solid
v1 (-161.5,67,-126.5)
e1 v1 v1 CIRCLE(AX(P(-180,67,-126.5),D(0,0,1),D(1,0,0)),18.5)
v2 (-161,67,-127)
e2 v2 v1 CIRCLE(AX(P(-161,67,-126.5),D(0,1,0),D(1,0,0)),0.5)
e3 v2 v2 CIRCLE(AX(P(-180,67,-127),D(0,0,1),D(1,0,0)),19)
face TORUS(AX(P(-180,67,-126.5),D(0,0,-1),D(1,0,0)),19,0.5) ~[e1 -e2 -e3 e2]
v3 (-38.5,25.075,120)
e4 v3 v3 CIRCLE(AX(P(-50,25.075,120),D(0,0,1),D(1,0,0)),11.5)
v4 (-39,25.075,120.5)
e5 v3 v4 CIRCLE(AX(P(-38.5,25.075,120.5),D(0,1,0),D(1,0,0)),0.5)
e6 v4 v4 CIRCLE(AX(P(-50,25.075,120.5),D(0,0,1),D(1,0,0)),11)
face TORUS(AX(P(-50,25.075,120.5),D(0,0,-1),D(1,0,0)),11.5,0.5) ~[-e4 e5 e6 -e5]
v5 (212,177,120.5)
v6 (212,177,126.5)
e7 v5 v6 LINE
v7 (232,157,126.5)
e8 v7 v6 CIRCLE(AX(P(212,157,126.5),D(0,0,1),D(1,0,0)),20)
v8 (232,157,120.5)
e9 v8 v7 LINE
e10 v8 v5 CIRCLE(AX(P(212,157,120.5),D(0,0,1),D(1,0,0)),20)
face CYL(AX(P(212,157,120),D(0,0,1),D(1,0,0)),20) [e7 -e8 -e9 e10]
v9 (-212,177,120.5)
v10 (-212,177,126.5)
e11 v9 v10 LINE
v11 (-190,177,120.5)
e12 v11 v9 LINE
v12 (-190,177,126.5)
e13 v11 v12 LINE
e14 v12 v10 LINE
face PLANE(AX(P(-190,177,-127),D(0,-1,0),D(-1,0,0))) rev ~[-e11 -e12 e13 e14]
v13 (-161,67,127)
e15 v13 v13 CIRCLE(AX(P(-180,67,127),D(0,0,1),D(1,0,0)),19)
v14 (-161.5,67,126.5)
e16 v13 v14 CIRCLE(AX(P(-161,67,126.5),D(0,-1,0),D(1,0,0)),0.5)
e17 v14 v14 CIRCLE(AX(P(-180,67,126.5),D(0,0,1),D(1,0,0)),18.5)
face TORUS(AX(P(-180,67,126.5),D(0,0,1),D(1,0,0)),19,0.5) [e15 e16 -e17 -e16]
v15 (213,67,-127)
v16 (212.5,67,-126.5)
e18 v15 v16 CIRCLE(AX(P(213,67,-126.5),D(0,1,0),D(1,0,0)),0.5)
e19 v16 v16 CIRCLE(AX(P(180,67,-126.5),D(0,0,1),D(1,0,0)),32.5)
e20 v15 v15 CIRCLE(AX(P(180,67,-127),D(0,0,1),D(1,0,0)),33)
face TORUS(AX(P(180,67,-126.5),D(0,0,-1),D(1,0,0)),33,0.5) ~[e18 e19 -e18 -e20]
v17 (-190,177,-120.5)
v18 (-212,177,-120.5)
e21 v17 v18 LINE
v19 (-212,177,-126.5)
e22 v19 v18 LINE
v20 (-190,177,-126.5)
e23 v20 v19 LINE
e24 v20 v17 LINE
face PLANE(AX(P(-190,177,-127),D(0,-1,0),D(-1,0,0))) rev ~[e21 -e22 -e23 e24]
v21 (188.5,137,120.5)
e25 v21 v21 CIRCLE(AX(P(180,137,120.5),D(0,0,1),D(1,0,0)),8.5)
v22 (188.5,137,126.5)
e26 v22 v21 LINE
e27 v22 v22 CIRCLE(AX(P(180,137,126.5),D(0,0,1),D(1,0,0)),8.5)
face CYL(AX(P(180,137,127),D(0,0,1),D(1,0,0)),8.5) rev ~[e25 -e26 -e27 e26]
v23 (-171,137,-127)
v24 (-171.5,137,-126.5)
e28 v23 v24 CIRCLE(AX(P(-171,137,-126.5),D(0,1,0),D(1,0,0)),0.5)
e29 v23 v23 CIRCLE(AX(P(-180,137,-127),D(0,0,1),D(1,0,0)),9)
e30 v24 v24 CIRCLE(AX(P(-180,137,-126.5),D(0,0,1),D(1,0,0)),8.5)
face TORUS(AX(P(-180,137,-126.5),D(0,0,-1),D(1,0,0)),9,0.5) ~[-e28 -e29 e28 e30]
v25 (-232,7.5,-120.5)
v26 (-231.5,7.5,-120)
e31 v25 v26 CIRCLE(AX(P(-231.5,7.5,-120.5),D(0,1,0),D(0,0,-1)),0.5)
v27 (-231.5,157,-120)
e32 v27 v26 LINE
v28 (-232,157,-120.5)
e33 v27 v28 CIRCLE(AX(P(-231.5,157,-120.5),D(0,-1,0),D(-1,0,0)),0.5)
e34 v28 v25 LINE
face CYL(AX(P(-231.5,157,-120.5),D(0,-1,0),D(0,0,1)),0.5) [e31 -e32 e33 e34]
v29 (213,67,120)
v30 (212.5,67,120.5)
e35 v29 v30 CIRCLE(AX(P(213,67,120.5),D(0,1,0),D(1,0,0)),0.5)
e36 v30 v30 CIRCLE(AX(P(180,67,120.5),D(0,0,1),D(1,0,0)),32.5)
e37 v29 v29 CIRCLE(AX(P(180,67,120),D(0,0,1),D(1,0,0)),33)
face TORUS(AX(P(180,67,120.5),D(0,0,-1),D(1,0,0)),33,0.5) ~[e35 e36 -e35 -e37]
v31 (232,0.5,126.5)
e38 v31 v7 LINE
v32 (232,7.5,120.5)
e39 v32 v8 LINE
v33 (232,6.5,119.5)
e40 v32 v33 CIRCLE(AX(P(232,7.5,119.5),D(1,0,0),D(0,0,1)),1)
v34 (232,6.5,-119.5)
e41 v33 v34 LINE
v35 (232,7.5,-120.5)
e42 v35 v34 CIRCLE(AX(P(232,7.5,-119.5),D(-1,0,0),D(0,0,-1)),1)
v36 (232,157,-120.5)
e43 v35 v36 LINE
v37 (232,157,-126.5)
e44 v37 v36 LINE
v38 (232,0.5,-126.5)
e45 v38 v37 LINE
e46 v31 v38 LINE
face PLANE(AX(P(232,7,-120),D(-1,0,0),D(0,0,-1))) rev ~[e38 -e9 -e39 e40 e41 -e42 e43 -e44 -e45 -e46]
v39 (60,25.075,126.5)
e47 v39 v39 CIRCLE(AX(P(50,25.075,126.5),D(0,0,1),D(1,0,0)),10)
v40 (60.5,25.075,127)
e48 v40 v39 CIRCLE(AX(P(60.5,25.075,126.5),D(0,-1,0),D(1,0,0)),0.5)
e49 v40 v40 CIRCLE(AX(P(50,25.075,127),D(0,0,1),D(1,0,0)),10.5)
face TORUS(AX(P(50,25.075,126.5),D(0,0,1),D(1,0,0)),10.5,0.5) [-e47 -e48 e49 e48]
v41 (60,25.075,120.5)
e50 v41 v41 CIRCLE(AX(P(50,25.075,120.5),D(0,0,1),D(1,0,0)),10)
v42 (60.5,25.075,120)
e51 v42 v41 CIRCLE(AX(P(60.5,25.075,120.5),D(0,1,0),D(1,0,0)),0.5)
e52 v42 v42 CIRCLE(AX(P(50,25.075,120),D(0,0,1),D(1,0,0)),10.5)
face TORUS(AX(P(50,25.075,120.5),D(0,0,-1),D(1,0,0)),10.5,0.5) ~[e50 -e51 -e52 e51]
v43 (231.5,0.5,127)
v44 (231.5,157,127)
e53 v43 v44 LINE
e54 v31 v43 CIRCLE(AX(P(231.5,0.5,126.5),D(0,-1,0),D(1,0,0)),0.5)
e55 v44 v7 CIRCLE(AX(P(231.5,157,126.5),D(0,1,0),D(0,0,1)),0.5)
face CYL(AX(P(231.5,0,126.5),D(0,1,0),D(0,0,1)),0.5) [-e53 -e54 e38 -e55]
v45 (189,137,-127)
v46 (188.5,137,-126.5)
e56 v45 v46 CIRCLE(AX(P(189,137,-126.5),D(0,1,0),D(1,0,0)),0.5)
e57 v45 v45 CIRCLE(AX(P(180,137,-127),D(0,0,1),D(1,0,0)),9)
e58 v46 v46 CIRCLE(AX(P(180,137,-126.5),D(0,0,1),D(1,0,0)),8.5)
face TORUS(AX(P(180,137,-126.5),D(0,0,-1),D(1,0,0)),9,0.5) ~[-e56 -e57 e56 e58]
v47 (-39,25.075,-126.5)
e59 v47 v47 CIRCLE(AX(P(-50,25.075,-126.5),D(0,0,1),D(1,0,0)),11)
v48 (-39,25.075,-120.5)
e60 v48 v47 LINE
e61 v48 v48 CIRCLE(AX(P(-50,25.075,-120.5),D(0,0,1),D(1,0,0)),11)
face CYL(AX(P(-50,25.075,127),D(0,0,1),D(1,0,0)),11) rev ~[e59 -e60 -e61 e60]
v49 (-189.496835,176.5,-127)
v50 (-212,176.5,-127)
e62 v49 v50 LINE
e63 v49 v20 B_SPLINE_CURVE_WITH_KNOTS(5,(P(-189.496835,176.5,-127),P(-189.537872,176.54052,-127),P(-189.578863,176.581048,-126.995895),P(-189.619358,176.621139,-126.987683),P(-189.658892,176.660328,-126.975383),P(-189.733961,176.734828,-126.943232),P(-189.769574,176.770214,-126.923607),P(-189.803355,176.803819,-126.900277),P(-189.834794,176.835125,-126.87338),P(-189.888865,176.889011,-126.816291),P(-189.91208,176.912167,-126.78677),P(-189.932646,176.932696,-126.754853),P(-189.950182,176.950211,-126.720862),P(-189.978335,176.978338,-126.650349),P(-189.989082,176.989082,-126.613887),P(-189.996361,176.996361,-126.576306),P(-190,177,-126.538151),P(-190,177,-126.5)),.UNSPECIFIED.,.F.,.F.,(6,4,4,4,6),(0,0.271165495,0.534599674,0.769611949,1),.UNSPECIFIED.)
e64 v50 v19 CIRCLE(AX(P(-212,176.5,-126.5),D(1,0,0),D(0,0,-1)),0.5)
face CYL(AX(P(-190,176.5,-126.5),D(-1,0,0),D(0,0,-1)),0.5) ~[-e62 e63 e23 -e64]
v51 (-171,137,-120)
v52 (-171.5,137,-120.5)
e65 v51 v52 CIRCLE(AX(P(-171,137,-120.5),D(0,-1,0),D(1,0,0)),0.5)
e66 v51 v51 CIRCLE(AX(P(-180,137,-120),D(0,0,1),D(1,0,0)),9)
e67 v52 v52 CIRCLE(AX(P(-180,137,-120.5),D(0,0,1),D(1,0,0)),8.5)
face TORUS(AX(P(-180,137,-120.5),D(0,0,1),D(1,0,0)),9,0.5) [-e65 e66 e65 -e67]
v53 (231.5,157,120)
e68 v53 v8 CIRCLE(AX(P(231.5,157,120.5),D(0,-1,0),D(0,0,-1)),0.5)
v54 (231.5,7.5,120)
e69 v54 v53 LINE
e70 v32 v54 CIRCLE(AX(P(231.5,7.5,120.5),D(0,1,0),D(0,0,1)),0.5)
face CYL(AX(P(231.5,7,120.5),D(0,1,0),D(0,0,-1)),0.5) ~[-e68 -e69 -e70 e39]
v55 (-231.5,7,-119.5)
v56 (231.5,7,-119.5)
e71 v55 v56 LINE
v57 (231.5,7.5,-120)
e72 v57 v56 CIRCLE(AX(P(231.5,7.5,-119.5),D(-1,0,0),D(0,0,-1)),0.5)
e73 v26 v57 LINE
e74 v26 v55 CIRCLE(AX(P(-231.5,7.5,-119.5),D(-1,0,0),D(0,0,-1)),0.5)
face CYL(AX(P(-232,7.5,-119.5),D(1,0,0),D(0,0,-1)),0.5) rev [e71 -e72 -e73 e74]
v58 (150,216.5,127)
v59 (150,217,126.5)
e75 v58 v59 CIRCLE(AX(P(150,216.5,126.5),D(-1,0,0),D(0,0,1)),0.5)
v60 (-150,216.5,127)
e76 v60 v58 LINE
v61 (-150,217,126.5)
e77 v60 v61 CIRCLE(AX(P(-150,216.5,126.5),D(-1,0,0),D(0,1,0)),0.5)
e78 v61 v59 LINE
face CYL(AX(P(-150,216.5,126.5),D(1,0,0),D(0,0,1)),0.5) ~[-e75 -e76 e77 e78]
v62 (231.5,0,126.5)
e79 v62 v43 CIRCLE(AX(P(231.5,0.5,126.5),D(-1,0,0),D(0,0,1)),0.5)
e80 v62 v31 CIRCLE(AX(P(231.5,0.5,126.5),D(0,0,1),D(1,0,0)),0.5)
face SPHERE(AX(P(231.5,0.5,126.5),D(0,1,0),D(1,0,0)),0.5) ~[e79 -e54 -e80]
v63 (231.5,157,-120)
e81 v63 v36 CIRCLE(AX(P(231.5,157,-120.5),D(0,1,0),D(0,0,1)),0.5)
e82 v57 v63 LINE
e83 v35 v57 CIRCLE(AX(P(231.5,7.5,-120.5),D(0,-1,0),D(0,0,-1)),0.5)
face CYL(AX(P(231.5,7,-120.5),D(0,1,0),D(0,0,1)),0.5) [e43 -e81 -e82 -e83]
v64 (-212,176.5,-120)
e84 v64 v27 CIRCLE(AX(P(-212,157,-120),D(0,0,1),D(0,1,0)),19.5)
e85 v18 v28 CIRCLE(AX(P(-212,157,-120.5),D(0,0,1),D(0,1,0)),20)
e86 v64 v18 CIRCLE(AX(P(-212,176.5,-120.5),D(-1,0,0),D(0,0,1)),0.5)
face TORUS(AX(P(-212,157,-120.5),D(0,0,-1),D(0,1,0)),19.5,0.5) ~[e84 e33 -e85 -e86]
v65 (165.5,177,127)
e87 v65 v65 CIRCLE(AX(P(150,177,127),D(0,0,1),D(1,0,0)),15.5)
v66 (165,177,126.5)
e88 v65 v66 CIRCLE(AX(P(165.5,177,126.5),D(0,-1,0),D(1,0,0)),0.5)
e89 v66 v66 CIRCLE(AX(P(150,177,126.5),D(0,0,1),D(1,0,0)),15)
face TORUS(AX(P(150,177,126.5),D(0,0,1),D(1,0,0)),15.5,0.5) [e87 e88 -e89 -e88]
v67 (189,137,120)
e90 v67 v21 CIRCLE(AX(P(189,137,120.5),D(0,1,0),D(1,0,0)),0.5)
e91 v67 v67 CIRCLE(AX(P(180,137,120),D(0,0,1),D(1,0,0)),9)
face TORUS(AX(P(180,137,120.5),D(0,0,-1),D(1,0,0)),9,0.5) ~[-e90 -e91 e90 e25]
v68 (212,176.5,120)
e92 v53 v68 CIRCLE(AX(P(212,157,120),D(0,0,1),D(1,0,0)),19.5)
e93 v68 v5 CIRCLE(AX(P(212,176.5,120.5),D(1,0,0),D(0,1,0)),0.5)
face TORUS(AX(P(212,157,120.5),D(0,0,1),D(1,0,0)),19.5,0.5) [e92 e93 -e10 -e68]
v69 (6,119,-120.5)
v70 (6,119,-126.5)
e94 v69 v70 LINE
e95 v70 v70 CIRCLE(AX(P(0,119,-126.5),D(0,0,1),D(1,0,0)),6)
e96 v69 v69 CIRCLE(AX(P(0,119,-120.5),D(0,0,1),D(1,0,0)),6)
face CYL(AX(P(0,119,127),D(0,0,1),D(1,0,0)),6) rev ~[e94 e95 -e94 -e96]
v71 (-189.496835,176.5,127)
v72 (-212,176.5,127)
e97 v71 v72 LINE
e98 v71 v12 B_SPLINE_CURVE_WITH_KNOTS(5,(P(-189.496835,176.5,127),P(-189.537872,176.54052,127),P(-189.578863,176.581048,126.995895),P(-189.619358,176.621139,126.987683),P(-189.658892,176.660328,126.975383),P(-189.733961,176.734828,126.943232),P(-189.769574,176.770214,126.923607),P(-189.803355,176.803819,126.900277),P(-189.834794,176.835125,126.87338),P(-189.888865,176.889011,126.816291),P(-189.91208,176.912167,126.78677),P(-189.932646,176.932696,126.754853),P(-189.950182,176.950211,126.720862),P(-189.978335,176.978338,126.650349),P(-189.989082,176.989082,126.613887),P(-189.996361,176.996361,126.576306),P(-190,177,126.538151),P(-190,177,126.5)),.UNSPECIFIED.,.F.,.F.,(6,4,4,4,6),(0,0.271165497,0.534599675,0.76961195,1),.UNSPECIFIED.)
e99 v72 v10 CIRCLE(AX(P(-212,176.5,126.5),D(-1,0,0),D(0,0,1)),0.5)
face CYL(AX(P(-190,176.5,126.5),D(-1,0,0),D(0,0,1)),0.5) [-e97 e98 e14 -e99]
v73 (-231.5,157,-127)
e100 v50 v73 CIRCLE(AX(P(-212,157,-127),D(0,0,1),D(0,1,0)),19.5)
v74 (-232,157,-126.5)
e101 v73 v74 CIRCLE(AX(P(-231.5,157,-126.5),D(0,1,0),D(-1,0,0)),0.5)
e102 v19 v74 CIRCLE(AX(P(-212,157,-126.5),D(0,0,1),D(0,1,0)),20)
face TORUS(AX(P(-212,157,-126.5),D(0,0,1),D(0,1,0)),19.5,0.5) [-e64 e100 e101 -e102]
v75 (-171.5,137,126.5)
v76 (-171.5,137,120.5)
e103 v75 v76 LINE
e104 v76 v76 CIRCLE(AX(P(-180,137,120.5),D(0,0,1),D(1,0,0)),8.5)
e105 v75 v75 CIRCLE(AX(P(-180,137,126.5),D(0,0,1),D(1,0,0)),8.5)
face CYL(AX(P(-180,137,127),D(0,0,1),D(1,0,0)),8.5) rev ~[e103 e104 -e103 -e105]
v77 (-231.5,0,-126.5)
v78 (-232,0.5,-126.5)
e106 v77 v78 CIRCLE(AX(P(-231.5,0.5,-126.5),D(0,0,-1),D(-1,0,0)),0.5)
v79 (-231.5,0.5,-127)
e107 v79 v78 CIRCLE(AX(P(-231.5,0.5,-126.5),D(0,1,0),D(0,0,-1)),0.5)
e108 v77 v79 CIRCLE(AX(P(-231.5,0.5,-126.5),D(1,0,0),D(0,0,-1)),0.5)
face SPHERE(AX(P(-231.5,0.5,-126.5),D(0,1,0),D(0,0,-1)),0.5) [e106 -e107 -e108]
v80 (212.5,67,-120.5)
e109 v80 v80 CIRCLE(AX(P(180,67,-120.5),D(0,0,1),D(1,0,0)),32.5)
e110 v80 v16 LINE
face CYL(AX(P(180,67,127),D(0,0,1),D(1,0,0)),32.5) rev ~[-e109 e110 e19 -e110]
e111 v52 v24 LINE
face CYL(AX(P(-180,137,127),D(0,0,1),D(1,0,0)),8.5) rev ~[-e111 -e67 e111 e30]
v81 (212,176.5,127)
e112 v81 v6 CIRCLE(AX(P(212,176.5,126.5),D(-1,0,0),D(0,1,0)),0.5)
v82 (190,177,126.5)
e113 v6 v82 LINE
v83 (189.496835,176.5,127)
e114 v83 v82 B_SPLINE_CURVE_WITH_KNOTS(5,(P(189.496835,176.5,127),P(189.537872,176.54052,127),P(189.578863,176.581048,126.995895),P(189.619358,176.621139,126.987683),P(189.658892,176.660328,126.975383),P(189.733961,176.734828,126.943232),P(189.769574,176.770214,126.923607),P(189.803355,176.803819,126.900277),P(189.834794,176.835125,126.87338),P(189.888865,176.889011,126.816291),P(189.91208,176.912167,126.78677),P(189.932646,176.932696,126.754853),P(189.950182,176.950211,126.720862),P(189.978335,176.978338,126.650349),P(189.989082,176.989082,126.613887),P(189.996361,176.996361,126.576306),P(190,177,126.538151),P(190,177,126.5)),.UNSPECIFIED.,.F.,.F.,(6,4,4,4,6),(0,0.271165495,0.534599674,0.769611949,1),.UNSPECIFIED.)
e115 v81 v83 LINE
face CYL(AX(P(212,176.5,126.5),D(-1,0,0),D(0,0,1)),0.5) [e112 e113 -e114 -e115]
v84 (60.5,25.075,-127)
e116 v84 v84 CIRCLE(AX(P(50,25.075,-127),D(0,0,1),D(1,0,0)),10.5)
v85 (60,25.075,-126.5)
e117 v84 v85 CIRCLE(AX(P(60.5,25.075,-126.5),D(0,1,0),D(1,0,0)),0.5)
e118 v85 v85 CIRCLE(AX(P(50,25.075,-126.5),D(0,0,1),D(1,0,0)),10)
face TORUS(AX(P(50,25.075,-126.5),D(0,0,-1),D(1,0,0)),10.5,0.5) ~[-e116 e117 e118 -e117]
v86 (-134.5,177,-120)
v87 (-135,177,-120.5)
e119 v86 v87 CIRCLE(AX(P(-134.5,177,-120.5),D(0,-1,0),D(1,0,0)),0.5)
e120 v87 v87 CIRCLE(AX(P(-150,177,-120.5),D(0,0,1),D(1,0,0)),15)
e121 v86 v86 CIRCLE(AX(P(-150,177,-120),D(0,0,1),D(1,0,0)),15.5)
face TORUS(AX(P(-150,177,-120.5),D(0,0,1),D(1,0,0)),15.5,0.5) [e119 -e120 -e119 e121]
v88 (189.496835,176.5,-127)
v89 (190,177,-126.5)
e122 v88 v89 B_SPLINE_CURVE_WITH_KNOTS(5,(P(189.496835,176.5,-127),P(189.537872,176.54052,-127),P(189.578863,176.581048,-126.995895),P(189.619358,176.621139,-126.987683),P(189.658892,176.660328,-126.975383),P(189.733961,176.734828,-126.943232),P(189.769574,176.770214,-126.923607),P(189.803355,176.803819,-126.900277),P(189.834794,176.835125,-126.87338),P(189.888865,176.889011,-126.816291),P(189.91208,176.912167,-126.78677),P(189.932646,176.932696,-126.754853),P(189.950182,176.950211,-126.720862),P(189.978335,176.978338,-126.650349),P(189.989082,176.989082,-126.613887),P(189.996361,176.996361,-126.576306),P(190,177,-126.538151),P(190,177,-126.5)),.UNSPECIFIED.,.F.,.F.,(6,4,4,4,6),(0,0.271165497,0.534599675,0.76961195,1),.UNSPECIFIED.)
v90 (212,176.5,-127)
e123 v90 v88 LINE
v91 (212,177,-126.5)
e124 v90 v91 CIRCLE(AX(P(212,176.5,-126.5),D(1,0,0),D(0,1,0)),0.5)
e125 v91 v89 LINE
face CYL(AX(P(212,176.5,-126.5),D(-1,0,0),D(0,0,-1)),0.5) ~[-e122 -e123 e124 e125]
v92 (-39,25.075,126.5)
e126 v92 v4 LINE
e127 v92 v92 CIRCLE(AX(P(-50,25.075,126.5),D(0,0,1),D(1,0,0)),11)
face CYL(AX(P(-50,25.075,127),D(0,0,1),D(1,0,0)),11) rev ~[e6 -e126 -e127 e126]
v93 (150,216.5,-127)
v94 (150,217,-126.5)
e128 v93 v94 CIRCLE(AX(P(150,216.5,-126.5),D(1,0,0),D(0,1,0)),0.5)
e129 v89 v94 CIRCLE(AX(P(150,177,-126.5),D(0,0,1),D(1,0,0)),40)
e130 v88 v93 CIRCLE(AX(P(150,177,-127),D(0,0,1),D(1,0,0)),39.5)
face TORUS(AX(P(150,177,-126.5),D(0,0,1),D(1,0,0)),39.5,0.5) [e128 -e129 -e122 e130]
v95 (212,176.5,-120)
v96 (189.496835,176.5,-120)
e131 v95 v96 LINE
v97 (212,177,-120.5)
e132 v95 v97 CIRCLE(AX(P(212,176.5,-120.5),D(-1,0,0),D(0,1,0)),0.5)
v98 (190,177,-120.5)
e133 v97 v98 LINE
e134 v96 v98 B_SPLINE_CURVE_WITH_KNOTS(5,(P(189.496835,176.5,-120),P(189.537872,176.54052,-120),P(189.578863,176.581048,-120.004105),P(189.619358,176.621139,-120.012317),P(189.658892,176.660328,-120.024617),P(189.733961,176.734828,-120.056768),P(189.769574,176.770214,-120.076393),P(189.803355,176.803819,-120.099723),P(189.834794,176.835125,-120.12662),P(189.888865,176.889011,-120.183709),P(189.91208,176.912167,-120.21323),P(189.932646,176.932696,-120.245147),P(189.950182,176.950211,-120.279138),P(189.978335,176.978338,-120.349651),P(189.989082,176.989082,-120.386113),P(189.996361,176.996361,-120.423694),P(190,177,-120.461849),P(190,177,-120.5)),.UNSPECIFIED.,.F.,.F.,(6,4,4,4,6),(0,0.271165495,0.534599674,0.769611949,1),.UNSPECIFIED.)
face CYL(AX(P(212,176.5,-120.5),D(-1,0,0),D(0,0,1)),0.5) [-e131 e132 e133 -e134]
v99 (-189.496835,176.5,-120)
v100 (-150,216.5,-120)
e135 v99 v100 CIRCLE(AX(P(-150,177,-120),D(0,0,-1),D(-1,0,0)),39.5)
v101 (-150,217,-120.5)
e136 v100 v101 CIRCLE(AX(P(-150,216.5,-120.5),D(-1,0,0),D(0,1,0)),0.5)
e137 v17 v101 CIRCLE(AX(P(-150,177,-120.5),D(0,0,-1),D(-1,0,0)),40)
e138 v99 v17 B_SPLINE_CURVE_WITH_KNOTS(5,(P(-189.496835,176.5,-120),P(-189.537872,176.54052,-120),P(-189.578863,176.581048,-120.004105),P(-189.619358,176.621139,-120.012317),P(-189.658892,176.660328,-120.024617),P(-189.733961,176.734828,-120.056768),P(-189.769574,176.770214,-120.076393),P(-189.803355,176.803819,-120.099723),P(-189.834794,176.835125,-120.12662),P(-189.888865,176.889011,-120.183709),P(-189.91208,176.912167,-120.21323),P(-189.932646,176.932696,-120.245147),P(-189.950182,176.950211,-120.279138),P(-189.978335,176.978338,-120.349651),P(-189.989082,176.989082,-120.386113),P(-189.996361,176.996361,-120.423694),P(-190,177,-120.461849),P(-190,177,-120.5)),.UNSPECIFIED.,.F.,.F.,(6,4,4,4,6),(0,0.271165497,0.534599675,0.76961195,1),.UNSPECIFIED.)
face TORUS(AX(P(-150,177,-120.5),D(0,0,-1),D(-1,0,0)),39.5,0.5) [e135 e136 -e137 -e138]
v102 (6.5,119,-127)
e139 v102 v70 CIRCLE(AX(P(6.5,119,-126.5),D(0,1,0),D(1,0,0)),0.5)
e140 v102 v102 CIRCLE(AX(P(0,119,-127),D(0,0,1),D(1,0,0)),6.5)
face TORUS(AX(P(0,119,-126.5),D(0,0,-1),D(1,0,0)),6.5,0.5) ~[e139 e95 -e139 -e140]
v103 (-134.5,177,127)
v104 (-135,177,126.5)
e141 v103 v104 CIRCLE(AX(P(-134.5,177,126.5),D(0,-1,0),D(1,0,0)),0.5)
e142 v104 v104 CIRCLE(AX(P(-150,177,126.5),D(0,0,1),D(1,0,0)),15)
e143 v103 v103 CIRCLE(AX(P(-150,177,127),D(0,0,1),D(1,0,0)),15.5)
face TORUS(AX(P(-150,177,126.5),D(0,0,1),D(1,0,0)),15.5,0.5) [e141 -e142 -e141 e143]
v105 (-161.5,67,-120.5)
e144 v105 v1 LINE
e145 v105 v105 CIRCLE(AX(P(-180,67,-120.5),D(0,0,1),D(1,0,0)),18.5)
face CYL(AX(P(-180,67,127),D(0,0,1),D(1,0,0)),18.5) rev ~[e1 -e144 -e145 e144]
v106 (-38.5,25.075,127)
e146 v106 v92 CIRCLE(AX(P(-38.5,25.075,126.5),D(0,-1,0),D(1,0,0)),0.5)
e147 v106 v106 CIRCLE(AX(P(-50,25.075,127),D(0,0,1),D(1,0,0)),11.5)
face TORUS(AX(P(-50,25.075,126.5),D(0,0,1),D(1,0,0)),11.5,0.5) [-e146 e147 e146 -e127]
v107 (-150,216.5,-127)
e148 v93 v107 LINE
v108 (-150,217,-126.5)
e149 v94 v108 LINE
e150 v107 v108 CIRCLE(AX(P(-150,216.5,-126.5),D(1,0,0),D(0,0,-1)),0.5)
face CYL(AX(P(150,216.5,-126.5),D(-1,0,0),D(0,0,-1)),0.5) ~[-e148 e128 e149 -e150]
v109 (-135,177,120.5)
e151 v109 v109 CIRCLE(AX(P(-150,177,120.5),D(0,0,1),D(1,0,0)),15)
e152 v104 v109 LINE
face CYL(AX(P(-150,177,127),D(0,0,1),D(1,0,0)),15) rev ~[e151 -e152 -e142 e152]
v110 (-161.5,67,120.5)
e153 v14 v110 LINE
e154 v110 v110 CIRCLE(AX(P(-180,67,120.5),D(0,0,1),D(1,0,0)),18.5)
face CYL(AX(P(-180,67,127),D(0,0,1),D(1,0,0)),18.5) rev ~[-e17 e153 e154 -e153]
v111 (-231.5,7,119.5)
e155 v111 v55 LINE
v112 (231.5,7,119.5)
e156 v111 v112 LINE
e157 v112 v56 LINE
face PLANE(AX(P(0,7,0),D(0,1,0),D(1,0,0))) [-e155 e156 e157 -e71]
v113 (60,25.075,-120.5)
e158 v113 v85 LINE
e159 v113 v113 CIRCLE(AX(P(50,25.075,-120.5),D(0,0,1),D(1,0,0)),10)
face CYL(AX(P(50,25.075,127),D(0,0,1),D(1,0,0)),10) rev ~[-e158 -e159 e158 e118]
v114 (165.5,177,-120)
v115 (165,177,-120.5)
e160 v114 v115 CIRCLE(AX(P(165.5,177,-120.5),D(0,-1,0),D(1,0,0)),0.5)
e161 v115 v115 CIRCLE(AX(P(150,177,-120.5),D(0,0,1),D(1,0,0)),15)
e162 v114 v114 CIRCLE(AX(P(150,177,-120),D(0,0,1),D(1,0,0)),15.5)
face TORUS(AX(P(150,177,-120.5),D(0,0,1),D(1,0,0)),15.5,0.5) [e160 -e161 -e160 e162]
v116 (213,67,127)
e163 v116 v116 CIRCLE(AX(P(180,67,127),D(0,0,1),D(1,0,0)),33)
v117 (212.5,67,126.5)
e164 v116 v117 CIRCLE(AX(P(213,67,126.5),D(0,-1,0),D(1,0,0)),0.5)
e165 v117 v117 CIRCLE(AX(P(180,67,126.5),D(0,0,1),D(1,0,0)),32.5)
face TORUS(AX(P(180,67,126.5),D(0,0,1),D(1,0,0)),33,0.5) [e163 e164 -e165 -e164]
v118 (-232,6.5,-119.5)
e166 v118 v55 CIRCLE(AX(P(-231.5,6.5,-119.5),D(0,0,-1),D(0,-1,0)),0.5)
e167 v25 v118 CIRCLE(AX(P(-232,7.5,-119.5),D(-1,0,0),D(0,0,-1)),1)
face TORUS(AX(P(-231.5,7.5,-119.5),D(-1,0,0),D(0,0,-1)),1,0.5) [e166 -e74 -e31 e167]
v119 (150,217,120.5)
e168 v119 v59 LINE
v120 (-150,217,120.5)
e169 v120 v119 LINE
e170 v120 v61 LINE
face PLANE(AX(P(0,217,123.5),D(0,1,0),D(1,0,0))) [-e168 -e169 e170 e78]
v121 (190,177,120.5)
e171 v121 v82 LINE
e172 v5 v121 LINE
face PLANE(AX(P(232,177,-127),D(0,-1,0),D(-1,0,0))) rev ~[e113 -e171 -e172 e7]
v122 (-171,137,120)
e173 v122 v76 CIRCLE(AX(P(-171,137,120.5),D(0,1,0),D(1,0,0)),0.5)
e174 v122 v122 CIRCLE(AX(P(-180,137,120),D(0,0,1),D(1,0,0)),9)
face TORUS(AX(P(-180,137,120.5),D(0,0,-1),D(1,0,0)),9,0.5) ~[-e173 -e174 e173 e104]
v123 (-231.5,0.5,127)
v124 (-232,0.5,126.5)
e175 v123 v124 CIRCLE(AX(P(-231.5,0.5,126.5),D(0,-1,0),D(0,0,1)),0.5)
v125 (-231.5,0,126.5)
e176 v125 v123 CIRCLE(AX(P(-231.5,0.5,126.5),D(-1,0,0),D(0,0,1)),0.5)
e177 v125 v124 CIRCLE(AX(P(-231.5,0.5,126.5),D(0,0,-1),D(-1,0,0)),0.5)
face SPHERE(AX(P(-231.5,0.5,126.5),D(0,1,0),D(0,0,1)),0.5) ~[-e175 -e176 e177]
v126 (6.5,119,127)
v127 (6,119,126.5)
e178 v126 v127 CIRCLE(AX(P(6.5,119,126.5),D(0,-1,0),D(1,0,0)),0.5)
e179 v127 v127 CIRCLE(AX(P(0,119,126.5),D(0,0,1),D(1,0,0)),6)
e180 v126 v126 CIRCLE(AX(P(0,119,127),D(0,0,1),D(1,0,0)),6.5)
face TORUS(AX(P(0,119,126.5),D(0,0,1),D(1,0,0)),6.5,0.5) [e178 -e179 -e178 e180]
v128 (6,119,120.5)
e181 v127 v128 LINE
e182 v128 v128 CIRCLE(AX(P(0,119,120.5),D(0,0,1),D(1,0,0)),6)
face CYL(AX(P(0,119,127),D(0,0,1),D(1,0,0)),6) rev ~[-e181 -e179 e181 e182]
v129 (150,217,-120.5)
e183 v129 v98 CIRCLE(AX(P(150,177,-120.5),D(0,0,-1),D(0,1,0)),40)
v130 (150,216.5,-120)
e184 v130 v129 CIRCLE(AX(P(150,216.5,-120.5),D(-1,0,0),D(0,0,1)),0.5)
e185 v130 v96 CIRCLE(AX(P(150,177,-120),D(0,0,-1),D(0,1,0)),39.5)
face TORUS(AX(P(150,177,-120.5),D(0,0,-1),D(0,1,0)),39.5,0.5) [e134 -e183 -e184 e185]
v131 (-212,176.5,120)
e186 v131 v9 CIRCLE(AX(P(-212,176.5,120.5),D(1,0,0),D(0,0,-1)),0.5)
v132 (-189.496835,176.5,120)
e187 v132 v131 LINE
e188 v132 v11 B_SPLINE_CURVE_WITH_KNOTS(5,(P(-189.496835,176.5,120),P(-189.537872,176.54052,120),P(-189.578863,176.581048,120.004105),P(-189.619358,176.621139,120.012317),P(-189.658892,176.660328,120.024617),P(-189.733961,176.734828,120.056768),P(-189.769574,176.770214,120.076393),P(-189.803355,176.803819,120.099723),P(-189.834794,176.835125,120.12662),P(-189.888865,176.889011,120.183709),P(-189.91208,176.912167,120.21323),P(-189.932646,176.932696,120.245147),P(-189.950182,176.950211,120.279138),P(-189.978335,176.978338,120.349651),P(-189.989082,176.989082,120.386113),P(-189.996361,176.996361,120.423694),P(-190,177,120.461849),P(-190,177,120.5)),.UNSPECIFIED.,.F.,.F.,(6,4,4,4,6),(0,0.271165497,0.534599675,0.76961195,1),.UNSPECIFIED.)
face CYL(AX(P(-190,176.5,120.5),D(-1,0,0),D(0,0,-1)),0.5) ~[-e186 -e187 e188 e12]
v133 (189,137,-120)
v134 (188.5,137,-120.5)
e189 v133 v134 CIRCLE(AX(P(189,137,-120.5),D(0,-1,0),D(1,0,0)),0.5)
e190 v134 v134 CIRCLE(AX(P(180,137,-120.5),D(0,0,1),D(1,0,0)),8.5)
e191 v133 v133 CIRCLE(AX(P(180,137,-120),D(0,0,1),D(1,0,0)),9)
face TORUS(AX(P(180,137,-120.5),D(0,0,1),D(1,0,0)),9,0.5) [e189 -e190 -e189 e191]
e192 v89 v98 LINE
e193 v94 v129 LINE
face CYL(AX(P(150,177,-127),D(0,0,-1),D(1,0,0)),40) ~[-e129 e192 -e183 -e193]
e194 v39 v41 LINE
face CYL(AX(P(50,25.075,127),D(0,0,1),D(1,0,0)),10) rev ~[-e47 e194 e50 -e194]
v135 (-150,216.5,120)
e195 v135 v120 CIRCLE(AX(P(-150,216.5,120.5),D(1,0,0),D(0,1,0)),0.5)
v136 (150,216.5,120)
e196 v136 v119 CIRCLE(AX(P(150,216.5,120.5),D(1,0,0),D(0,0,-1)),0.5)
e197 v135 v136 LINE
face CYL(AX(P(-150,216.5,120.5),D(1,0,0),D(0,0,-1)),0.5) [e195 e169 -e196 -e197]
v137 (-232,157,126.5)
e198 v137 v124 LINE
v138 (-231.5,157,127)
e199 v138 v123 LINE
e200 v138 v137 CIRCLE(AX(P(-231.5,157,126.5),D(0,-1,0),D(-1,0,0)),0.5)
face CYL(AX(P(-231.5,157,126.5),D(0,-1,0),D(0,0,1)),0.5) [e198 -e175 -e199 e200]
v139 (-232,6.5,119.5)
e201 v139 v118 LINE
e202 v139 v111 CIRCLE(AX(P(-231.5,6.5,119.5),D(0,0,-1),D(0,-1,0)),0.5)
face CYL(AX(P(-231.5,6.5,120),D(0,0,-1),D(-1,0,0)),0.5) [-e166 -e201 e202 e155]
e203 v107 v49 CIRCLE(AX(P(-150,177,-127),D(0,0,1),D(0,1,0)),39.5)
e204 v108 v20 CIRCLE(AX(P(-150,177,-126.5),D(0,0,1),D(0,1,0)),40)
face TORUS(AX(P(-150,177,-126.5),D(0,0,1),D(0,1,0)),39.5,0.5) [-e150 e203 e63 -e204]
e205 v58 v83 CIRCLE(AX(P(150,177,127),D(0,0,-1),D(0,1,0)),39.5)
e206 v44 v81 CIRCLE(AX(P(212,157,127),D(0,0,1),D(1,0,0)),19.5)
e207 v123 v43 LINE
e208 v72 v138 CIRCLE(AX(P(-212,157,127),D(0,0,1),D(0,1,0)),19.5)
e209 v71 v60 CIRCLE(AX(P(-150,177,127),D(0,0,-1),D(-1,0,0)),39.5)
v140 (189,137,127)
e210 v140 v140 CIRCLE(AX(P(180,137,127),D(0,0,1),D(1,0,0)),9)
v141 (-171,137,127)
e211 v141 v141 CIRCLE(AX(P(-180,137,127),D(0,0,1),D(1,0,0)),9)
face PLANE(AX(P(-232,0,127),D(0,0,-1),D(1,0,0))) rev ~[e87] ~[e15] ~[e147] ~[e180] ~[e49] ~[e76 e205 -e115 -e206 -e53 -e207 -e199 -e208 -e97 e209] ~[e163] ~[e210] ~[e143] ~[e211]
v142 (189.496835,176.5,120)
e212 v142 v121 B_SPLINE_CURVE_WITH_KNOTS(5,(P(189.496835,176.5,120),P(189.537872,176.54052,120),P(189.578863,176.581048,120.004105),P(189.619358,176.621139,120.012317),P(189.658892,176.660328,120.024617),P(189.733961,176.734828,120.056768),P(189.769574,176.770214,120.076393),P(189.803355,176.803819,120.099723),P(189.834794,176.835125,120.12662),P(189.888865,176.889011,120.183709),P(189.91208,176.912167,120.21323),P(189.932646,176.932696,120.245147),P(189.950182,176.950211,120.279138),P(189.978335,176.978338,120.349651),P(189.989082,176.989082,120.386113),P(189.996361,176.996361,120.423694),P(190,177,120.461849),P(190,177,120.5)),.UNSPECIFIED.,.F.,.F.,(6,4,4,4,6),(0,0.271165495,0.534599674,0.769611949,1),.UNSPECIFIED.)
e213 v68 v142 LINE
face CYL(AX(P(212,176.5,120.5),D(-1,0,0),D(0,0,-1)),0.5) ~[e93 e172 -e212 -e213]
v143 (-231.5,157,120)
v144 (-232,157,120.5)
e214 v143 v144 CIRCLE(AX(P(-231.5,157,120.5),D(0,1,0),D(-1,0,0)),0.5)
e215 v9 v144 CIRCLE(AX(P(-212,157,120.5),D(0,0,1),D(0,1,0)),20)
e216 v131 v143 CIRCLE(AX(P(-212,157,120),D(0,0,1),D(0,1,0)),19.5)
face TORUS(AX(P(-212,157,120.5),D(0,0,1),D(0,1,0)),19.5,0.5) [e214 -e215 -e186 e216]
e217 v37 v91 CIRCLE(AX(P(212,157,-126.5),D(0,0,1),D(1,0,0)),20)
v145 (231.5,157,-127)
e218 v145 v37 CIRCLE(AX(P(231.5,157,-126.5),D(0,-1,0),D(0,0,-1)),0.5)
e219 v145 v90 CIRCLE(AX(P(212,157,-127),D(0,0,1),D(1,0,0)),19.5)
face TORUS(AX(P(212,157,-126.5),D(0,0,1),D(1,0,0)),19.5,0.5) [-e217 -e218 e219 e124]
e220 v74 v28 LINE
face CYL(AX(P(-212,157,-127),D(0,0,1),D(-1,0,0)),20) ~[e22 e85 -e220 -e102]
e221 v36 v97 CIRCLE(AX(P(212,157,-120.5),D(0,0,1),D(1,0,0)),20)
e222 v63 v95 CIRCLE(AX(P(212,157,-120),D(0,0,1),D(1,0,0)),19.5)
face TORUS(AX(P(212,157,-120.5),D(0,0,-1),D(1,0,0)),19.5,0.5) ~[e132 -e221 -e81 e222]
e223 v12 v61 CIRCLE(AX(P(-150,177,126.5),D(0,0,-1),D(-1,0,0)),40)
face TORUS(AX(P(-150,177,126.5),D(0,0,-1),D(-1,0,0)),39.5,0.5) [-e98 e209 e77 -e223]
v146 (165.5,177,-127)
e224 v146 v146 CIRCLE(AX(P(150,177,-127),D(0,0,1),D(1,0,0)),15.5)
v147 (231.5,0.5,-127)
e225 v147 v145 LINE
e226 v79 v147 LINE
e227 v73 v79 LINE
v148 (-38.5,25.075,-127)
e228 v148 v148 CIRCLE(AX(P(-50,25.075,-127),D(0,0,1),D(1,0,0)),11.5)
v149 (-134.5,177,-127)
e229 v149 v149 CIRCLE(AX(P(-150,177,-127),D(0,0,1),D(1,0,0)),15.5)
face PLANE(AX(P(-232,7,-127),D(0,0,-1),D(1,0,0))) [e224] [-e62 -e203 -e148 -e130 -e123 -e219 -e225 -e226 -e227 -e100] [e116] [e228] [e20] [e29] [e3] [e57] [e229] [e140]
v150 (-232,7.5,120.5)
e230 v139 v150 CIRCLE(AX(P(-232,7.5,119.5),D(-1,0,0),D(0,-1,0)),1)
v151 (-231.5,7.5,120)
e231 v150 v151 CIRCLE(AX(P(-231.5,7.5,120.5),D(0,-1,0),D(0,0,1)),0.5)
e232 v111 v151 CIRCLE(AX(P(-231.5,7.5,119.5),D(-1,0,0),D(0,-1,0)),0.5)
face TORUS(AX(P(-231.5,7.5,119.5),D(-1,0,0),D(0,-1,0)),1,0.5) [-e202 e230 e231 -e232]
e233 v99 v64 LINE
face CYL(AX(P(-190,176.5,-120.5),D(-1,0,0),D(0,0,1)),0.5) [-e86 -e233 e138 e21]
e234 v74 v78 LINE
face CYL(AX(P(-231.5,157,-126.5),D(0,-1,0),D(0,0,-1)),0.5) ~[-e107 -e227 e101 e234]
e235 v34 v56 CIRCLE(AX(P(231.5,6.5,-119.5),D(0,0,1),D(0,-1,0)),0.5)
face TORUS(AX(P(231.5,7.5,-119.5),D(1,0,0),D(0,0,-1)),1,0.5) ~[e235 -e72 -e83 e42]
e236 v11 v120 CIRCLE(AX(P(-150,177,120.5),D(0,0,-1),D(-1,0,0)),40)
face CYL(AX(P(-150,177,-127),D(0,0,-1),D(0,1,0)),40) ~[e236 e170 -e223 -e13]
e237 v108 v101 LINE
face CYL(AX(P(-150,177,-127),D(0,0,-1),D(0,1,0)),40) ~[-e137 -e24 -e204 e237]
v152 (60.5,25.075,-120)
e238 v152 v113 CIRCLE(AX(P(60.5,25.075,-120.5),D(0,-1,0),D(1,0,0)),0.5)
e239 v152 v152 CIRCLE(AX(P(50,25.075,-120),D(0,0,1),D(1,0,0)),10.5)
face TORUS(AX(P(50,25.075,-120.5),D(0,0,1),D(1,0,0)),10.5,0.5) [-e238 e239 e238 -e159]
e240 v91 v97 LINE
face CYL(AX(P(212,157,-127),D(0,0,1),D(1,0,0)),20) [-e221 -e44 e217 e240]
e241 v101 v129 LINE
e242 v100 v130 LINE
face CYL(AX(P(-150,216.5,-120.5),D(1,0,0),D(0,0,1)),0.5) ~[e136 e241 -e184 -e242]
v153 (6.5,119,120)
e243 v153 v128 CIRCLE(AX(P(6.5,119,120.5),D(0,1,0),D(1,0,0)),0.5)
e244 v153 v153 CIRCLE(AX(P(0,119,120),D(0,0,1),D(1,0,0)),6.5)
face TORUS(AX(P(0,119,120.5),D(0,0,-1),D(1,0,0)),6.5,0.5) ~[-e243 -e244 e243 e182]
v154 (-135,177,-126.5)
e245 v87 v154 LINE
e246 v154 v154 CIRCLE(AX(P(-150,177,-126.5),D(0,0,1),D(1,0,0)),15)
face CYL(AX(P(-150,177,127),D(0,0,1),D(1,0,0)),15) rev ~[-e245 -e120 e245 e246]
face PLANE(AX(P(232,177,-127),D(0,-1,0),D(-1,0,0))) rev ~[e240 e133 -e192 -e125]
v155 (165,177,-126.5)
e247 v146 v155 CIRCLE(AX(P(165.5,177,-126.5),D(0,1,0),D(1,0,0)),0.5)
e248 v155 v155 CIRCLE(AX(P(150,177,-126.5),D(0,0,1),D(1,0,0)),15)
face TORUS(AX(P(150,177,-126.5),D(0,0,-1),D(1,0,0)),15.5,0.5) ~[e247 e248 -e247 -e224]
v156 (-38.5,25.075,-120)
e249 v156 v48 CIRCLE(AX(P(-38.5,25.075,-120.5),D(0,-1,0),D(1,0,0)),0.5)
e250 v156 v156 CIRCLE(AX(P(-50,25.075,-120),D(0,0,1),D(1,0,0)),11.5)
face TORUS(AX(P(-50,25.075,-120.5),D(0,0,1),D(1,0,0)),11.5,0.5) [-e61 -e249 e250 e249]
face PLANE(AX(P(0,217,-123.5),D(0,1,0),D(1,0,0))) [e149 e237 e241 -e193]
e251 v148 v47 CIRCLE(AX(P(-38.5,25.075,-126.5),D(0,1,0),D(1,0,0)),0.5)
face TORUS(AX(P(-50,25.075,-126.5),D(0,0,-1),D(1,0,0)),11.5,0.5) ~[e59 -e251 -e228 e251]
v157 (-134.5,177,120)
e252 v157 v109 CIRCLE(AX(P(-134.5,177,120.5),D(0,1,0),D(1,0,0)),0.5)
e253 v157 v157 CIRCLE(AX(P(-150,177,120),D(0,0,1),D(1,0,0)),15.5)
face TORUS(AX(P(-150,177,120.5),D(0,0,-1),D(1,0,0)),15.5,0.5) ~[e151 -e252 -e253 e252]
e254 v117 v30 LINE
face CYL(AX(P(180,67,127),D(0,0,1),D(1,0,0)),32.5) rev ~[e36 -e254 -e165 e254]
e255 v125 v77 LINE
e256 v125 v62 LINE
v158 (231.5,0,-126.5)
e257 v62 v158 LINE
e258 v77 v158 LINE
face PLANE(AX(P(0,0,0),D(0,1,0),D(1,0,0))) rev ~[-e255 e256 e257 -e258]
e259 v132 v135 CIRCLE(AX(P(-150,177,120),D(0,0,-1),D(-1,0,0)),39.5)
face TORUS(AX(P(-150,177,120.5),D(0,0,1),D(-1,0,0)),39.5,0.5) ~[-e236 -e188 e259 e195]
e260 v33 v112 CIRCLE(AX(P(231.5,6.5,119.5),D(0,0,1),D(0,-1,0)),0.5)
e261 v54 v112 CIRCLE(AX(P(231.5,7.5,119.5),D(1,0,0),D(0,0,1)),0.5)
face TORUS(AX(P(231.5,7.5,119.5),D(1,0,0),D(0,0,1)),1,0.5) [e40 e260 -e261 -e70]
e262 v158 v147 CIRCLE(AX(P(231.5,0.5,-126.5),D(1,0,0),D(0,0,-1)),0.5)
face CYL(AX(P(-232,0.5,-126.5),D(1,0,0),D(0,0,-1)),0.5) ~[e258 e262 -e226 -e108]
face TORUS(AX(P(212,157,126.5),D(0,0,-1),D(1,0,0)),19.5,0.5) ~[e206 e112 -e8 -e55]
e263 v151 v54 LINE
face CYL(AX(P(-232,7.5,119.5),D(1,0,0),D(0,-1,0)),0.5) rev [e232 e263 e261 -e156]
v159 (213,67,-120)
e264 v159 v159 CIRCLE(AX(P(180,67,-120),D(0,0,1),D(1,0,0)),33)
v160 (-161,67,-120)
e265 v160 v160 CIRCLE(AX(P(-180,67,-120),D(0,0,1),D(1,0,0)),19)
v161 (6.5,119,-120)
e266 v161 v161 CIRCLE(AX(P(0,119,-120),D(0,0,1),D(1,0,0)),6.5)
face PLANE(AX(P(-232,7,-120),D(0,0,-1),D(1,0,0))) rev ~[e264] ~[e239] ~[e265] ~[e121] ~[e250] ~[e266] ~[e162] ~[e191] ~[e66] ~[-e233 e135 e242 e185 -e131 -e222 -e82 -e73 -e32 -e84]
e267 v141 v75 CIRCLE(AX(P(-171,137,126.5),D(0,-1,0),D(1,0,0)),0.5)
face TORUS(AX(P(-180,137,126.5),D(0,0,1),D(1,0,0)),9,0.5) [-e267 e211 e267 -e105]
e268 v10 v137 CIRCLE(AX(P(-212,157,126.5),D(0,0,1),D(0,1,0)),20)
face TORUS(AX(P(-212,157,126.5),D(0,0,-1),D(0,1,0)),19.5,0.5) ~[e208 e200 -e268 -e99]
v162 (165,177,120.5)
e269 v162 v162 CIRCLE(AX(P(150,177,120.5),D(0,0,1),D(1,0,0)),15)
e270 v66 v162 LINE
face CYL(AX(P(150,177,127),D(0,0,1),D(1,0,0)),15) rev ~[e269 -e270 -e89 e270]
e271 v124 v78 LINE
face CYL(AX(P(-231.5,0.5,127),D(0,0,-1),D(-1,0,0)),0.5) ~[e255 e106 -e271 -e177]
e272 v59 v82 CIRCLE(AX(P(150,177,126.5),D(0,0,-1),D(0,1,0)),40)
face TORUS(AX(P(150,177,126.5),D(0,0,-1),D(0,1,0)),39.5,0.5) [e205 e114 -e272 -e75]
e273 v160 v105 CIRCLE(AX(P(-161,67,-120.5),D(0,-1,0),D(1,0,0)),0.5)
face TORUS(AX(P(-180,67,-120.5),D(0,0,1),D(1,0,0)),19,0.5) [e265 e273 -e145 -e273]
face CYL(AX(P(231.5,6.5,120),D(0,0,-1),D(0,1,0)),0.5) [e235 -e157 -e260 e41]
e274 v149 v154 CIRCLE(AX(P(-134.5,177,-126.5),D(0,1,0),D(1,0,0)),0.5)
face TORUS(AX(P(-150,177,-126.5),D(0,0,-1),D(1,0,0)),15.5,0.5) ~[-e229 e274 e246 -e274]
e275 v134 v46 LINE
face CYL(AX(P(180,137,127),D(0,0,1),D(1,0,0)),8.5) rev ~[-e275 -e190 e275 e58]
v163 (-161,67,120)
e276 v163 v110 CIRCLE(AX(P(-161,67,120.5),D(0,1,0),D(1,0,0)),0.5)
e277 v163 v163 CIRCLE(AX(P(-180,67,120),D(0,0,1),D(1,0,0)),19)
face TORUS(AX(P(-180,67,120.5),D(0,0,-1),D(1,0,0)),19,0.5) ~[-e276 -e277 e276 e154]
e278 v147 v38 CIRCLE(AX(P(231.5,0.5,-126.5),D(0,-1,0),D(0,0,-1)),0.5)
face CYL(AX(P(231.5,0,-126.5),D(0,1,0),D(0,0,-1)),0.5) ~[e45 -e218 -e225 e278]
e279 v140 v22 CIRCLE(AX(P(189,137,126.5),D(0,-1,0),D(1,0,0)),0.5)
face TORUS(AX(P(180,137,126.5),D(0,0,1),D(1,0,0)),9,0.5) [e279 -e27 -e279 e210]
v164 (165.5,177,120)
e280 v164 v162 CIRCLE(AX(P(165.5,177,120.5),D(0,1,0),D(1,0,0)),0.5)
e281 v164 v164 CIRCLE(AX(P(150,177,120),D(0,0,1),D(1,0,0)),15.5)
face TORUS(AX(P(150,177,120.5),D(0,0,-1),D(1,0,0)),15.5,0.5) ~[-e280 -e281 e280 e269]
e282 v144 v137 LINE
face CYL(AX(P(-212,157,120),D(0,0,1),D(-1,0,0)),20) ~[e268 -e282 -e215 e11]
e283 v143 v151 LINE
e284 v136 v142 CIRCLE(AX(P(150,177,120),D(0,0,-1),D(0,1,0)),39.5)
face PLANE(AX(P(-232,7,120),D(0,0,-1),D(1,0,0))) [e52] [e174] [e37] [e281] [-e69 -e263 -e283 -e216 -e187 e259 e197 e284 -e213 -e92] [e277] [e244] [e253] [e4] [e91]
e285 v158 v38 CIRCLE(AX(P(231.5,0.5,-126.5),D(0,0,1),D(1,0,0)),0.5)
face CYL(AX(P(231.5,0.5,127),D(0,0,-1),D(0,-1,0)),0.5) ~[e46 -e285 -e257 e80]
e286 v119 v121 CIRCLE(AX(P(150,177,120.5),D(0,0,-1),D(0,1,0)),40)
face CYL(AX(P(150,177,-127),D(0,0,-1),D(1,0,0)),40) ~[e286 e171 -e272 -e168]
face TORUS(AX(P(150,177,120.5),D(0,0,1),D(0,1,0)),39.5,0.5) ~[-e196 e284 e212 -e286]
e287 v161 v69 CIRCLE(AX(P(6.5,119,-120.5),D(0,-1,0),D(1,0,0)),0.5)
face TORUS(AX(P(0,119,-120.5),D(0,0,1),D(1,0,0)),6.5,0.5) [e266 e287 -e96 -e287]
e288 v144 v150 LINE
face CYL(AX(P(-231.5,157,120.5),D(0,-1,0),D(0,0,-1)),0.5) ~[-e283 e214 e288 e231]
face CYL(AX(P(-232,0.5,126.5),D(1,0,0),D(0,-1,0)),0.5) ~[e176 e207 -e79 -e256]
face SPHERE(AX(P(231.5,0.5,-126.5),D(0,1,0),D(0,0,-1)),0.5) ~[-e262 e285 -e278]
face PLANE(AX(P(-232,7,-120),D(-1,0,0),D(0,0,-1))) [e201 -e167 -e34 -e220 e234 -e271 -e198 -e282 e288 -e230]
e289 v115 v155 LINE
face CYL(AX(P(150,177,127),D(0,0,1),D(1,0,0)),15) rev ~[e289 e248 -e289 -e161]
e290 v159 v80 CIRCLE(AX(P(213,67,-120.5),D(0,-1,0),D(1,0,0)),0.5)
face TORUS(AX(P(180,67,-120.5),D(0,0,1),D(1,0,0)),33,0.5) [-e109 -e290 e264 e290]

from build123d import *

# Parameters (mm, degrees)
SKETCH_1_W          = 464
SKETCH_1_H          = 254
EXTRUDE_1_DEPTH     = 7
SKETCH_2_W          = 464
SKETCH_2_H          = 7
EXTRUDE_2_DEPTH     = 210
SKETCH_4_R          = 18.5
SKETCH_4_R_2        = 8.5
SKETCH_4_R_3        = 15
SKETCH_4_R_4        = 32.5
CUT_EXTRUDE_1_DEPTH = 407.729639933
SKETCH_6_R          = 11
SKETCH_6_R_2        = 10
SKETCH_6_R_3        = 6
CUT_EXTRUDE_2_DEPTH = 407.729639933
CUT_EXTRUDE_3_DEPTH = 407.729639933
FILLET_1_R          = 20
FILLET_2_R          = 20
FILLET_3_R          = 20
FILLET_4_R          = 20
FILLET_5_R          = 0.5


with BuildPart() as part:
    # 草图1 → 凸台-拉伸1 (new body)
    with BuildSketch(Plane(origin=(0, 0, 0), x_dir=(1, 0, 0), z_dir=(0, 1, 0))):
        Rectangle(SKETCH_1_W, SKETCH_1_H)
    extrude(amount=EXTRUDE_1_DEPTH)

    # 草图2 → 凸台-拉伸2 (add)
    with BuildSketch(Plane(origin=(0, 7, 0), x_dir=(1, 0, 0), z_dir=(0, 1, 0))):
        with Locations((0, 123.5)):
            Rectangle(SKETCH_2_W, SKETCH_2_H)
        with Locations((0, -123.5)):
            Rectangle(SKETCH_2_W, SKETCH_2_H)
    extrude(amount=EXTRUDE_2_DEPTH)

    # 草图4 → 切除-拉伸1 (cut, through all)
    with BuildSketch(Plane.XY.offset(127)):
        with Locations((-180, 67)):
            Circle(SKETCH_4_R)
        with Locations((-180, 137)):
            Circle(SKETCH_4_R_2)
        with Locations((180, 137)):
            Circle(SKETCH_4_R_2)
        with Locations((-150, 177)):
            Circle(SKETCH_4_R_3)
        with Locations((150, 177)):
            Circle(SKETCH_4_R_3)
        with Locations((180, 67)):
            Circle(SKETCH_4_R_4)
    extrude(amount=-CUT_EXTRUDE_1_DEPTH, mode=Mode.SUBTRACT)

    # 草图6 → 切除-拉伸2 (cut, through all)
    with BuildSketch(Plane.XY.offset(127)):
        with Locations((-50, 25.075)):
            Circle(SKETCH_6_R)
        with Locations((50, 25.075)):
            Circle(SKETCH_6_R_2)
        with Locations((0, 119)):
            Circle(SKETCH_6_R_3)
    extrude(amount=-CUT_EXTRUDE_2_DEPTH, mode=Mode.SUBTRACT)

    # 草图7 → 切除-拉伸3 (cut, through all)
    with BuildSketch(Plane(origin=(0, 0, -127), x_dir=(-1, 0, 0), z_dir=(0, 0, -1))):
        with BuildLine():
            Line((-232, 217), (-232, 177))
            Line((-232, 177), (-190, 177))
            ThreePointArc((-190, 177), (-178.284271247, 205.284271247), (-150, 217))
            Line((-150, 217), (-232, 217))
        make_face()
        with BuildLine():
            Line((190, 177), (232, 177))
            Line((232, 177), (232, 217))
            Line((232, 217), (150, 217))
            ThreePointArc((150, 217), (178.284271247, 205.284271247), (190, 177))
        make_face()
    extrude(amount=-CUT_EXTRUDE_3_DEPTH, mode=Mode.SUBTRACT)

    # 圆角1
    fillet_1_edges = [part.edges().sort_by_distance(p)[0] for p in [
        (232, 177, 123.5),
    ]]
    fillet(fillet_1_edges, radius=FILLET_1_R)

    # 圆角2
    fillet_2_edges = [part.edges().sort_by_distance(p)[0] for p in [
        (232, 177, -123.5),
    ]]
    fillet(fillet_2_edges, radius=FILLET_2_R)

    # 圆角3
    fillet_3_edges = [part.edges().sort_by_distance(p)[0] for p in [
        (-232, 177, 123.5),
    ]]
    fillet(fillet_3_edges, radius=FILLET_3_R)

    # 圆角4
    fillet_4_edges = [part.edges().sort_by_distance(p)[0] for p in [
        (-232, 177, -123.5),
    ]]
    fillet(fillet_4_edges, radius=FILLET_4_R)

    # 圆角5
    fillet_5_edges = [part.edges().sort_by_distance(p)[0] for p in [
        (40, 25.075, -127),
        (40, 25.075, -120),
        (40, 25.075, 120),
        (40, 25.075, 127),
        (-6, 119, -127),
        (-6, 119, -120),
        (-6, 119, 120),
        (-6, 119, 127),
        (178.284271247, 205.284271247, -120),
        (178.284271247, 205.284271247, 120),
        (178.284271247, 205.284271247, 127),
        (178.284271247, 205.284271247, -127),
        (-232, 7, 0),
        (0, 217, 120),
        (0, 217, 127),
        (-201, 177, 120),
        (0, 217, -127),
        (0, 217, -120),
        (0, 7, -120),
        (-201, 177, -120),
        (-178.284271247, 205.284271247, -120),
        (-178.284271247, 205.284271247, 120),
        (-178.284271247, 205.284271247, 127),
        (-201, 177, 127),
        (-178.284271247, 205.284271247, -127),
        (-201, 177, -127),
        (201, 177, 120),
        (201, 177, 127),
        (232, 82, 120),
        (226.142135624, 171.142135624, 120),
        (232, 78.5, 127),
        (226.142135624, 171.142135624, 127),
        (201, 177, -127),
        (201, 177, -120),
        (232, 78.5, -127),
        (232, 82, -120),
        (226.142135624, 171.142135624, -120),
        (226.142135624, 171.142135624, -127),
        (-232, 82, 120),
        (-226.142135624, 171.142135624, 120),
        (-232, 78.5, 127),
        (-226.142135624, 171.142135624, 127),
        (-232, 82, -120),
        (-232, 78.5, -127),
        (-226.142135624, 171.142135624, -127),
        (-226.142135624, 171.142135624, -120),
        (232, 7, 0),
        (0, 7, 120),
        (-198.5, 67, -127),
        (-198.5, 67, -120),
        (-198.5, 67, 120),
        (-198.5, 67, 127),
        (0, 0, -127),
        (232, 0, 0),
        (0, 0, 127),
        (-232, 0, 0),
        (147.5, 67, -127),
        (147.5, 67, -120),
        (147.5, 67, 120),
        (147.5, 67, 127),
        (135, 177, -127),
        (135, 177, -120),
        (135, 177, 120),
        (135, 177, 127),
        (-165, 177, -127),
        (-165, 177, -120),
        (-165, 177, 120),
        (-165, 177, 127),
        (171.5, 137, -127),
        (171.5, 137, -120),
        (171.5, 137, 120),
        (171.5, 137, 127),
        (-188.5, 137, -127),
        (-188.5, 137, -120),
        (-188.5, 137, 120),
        (-188.5, 137, 127),
        (-61, 25.075, -127),
        (-61, 25.075, -120),
        (-61, 25.075, 120),
        (-61, 25.075, 127),
    ]]
    fillet(fillet_5_edges, radius=FILLET_5_R)


solid = part.part
